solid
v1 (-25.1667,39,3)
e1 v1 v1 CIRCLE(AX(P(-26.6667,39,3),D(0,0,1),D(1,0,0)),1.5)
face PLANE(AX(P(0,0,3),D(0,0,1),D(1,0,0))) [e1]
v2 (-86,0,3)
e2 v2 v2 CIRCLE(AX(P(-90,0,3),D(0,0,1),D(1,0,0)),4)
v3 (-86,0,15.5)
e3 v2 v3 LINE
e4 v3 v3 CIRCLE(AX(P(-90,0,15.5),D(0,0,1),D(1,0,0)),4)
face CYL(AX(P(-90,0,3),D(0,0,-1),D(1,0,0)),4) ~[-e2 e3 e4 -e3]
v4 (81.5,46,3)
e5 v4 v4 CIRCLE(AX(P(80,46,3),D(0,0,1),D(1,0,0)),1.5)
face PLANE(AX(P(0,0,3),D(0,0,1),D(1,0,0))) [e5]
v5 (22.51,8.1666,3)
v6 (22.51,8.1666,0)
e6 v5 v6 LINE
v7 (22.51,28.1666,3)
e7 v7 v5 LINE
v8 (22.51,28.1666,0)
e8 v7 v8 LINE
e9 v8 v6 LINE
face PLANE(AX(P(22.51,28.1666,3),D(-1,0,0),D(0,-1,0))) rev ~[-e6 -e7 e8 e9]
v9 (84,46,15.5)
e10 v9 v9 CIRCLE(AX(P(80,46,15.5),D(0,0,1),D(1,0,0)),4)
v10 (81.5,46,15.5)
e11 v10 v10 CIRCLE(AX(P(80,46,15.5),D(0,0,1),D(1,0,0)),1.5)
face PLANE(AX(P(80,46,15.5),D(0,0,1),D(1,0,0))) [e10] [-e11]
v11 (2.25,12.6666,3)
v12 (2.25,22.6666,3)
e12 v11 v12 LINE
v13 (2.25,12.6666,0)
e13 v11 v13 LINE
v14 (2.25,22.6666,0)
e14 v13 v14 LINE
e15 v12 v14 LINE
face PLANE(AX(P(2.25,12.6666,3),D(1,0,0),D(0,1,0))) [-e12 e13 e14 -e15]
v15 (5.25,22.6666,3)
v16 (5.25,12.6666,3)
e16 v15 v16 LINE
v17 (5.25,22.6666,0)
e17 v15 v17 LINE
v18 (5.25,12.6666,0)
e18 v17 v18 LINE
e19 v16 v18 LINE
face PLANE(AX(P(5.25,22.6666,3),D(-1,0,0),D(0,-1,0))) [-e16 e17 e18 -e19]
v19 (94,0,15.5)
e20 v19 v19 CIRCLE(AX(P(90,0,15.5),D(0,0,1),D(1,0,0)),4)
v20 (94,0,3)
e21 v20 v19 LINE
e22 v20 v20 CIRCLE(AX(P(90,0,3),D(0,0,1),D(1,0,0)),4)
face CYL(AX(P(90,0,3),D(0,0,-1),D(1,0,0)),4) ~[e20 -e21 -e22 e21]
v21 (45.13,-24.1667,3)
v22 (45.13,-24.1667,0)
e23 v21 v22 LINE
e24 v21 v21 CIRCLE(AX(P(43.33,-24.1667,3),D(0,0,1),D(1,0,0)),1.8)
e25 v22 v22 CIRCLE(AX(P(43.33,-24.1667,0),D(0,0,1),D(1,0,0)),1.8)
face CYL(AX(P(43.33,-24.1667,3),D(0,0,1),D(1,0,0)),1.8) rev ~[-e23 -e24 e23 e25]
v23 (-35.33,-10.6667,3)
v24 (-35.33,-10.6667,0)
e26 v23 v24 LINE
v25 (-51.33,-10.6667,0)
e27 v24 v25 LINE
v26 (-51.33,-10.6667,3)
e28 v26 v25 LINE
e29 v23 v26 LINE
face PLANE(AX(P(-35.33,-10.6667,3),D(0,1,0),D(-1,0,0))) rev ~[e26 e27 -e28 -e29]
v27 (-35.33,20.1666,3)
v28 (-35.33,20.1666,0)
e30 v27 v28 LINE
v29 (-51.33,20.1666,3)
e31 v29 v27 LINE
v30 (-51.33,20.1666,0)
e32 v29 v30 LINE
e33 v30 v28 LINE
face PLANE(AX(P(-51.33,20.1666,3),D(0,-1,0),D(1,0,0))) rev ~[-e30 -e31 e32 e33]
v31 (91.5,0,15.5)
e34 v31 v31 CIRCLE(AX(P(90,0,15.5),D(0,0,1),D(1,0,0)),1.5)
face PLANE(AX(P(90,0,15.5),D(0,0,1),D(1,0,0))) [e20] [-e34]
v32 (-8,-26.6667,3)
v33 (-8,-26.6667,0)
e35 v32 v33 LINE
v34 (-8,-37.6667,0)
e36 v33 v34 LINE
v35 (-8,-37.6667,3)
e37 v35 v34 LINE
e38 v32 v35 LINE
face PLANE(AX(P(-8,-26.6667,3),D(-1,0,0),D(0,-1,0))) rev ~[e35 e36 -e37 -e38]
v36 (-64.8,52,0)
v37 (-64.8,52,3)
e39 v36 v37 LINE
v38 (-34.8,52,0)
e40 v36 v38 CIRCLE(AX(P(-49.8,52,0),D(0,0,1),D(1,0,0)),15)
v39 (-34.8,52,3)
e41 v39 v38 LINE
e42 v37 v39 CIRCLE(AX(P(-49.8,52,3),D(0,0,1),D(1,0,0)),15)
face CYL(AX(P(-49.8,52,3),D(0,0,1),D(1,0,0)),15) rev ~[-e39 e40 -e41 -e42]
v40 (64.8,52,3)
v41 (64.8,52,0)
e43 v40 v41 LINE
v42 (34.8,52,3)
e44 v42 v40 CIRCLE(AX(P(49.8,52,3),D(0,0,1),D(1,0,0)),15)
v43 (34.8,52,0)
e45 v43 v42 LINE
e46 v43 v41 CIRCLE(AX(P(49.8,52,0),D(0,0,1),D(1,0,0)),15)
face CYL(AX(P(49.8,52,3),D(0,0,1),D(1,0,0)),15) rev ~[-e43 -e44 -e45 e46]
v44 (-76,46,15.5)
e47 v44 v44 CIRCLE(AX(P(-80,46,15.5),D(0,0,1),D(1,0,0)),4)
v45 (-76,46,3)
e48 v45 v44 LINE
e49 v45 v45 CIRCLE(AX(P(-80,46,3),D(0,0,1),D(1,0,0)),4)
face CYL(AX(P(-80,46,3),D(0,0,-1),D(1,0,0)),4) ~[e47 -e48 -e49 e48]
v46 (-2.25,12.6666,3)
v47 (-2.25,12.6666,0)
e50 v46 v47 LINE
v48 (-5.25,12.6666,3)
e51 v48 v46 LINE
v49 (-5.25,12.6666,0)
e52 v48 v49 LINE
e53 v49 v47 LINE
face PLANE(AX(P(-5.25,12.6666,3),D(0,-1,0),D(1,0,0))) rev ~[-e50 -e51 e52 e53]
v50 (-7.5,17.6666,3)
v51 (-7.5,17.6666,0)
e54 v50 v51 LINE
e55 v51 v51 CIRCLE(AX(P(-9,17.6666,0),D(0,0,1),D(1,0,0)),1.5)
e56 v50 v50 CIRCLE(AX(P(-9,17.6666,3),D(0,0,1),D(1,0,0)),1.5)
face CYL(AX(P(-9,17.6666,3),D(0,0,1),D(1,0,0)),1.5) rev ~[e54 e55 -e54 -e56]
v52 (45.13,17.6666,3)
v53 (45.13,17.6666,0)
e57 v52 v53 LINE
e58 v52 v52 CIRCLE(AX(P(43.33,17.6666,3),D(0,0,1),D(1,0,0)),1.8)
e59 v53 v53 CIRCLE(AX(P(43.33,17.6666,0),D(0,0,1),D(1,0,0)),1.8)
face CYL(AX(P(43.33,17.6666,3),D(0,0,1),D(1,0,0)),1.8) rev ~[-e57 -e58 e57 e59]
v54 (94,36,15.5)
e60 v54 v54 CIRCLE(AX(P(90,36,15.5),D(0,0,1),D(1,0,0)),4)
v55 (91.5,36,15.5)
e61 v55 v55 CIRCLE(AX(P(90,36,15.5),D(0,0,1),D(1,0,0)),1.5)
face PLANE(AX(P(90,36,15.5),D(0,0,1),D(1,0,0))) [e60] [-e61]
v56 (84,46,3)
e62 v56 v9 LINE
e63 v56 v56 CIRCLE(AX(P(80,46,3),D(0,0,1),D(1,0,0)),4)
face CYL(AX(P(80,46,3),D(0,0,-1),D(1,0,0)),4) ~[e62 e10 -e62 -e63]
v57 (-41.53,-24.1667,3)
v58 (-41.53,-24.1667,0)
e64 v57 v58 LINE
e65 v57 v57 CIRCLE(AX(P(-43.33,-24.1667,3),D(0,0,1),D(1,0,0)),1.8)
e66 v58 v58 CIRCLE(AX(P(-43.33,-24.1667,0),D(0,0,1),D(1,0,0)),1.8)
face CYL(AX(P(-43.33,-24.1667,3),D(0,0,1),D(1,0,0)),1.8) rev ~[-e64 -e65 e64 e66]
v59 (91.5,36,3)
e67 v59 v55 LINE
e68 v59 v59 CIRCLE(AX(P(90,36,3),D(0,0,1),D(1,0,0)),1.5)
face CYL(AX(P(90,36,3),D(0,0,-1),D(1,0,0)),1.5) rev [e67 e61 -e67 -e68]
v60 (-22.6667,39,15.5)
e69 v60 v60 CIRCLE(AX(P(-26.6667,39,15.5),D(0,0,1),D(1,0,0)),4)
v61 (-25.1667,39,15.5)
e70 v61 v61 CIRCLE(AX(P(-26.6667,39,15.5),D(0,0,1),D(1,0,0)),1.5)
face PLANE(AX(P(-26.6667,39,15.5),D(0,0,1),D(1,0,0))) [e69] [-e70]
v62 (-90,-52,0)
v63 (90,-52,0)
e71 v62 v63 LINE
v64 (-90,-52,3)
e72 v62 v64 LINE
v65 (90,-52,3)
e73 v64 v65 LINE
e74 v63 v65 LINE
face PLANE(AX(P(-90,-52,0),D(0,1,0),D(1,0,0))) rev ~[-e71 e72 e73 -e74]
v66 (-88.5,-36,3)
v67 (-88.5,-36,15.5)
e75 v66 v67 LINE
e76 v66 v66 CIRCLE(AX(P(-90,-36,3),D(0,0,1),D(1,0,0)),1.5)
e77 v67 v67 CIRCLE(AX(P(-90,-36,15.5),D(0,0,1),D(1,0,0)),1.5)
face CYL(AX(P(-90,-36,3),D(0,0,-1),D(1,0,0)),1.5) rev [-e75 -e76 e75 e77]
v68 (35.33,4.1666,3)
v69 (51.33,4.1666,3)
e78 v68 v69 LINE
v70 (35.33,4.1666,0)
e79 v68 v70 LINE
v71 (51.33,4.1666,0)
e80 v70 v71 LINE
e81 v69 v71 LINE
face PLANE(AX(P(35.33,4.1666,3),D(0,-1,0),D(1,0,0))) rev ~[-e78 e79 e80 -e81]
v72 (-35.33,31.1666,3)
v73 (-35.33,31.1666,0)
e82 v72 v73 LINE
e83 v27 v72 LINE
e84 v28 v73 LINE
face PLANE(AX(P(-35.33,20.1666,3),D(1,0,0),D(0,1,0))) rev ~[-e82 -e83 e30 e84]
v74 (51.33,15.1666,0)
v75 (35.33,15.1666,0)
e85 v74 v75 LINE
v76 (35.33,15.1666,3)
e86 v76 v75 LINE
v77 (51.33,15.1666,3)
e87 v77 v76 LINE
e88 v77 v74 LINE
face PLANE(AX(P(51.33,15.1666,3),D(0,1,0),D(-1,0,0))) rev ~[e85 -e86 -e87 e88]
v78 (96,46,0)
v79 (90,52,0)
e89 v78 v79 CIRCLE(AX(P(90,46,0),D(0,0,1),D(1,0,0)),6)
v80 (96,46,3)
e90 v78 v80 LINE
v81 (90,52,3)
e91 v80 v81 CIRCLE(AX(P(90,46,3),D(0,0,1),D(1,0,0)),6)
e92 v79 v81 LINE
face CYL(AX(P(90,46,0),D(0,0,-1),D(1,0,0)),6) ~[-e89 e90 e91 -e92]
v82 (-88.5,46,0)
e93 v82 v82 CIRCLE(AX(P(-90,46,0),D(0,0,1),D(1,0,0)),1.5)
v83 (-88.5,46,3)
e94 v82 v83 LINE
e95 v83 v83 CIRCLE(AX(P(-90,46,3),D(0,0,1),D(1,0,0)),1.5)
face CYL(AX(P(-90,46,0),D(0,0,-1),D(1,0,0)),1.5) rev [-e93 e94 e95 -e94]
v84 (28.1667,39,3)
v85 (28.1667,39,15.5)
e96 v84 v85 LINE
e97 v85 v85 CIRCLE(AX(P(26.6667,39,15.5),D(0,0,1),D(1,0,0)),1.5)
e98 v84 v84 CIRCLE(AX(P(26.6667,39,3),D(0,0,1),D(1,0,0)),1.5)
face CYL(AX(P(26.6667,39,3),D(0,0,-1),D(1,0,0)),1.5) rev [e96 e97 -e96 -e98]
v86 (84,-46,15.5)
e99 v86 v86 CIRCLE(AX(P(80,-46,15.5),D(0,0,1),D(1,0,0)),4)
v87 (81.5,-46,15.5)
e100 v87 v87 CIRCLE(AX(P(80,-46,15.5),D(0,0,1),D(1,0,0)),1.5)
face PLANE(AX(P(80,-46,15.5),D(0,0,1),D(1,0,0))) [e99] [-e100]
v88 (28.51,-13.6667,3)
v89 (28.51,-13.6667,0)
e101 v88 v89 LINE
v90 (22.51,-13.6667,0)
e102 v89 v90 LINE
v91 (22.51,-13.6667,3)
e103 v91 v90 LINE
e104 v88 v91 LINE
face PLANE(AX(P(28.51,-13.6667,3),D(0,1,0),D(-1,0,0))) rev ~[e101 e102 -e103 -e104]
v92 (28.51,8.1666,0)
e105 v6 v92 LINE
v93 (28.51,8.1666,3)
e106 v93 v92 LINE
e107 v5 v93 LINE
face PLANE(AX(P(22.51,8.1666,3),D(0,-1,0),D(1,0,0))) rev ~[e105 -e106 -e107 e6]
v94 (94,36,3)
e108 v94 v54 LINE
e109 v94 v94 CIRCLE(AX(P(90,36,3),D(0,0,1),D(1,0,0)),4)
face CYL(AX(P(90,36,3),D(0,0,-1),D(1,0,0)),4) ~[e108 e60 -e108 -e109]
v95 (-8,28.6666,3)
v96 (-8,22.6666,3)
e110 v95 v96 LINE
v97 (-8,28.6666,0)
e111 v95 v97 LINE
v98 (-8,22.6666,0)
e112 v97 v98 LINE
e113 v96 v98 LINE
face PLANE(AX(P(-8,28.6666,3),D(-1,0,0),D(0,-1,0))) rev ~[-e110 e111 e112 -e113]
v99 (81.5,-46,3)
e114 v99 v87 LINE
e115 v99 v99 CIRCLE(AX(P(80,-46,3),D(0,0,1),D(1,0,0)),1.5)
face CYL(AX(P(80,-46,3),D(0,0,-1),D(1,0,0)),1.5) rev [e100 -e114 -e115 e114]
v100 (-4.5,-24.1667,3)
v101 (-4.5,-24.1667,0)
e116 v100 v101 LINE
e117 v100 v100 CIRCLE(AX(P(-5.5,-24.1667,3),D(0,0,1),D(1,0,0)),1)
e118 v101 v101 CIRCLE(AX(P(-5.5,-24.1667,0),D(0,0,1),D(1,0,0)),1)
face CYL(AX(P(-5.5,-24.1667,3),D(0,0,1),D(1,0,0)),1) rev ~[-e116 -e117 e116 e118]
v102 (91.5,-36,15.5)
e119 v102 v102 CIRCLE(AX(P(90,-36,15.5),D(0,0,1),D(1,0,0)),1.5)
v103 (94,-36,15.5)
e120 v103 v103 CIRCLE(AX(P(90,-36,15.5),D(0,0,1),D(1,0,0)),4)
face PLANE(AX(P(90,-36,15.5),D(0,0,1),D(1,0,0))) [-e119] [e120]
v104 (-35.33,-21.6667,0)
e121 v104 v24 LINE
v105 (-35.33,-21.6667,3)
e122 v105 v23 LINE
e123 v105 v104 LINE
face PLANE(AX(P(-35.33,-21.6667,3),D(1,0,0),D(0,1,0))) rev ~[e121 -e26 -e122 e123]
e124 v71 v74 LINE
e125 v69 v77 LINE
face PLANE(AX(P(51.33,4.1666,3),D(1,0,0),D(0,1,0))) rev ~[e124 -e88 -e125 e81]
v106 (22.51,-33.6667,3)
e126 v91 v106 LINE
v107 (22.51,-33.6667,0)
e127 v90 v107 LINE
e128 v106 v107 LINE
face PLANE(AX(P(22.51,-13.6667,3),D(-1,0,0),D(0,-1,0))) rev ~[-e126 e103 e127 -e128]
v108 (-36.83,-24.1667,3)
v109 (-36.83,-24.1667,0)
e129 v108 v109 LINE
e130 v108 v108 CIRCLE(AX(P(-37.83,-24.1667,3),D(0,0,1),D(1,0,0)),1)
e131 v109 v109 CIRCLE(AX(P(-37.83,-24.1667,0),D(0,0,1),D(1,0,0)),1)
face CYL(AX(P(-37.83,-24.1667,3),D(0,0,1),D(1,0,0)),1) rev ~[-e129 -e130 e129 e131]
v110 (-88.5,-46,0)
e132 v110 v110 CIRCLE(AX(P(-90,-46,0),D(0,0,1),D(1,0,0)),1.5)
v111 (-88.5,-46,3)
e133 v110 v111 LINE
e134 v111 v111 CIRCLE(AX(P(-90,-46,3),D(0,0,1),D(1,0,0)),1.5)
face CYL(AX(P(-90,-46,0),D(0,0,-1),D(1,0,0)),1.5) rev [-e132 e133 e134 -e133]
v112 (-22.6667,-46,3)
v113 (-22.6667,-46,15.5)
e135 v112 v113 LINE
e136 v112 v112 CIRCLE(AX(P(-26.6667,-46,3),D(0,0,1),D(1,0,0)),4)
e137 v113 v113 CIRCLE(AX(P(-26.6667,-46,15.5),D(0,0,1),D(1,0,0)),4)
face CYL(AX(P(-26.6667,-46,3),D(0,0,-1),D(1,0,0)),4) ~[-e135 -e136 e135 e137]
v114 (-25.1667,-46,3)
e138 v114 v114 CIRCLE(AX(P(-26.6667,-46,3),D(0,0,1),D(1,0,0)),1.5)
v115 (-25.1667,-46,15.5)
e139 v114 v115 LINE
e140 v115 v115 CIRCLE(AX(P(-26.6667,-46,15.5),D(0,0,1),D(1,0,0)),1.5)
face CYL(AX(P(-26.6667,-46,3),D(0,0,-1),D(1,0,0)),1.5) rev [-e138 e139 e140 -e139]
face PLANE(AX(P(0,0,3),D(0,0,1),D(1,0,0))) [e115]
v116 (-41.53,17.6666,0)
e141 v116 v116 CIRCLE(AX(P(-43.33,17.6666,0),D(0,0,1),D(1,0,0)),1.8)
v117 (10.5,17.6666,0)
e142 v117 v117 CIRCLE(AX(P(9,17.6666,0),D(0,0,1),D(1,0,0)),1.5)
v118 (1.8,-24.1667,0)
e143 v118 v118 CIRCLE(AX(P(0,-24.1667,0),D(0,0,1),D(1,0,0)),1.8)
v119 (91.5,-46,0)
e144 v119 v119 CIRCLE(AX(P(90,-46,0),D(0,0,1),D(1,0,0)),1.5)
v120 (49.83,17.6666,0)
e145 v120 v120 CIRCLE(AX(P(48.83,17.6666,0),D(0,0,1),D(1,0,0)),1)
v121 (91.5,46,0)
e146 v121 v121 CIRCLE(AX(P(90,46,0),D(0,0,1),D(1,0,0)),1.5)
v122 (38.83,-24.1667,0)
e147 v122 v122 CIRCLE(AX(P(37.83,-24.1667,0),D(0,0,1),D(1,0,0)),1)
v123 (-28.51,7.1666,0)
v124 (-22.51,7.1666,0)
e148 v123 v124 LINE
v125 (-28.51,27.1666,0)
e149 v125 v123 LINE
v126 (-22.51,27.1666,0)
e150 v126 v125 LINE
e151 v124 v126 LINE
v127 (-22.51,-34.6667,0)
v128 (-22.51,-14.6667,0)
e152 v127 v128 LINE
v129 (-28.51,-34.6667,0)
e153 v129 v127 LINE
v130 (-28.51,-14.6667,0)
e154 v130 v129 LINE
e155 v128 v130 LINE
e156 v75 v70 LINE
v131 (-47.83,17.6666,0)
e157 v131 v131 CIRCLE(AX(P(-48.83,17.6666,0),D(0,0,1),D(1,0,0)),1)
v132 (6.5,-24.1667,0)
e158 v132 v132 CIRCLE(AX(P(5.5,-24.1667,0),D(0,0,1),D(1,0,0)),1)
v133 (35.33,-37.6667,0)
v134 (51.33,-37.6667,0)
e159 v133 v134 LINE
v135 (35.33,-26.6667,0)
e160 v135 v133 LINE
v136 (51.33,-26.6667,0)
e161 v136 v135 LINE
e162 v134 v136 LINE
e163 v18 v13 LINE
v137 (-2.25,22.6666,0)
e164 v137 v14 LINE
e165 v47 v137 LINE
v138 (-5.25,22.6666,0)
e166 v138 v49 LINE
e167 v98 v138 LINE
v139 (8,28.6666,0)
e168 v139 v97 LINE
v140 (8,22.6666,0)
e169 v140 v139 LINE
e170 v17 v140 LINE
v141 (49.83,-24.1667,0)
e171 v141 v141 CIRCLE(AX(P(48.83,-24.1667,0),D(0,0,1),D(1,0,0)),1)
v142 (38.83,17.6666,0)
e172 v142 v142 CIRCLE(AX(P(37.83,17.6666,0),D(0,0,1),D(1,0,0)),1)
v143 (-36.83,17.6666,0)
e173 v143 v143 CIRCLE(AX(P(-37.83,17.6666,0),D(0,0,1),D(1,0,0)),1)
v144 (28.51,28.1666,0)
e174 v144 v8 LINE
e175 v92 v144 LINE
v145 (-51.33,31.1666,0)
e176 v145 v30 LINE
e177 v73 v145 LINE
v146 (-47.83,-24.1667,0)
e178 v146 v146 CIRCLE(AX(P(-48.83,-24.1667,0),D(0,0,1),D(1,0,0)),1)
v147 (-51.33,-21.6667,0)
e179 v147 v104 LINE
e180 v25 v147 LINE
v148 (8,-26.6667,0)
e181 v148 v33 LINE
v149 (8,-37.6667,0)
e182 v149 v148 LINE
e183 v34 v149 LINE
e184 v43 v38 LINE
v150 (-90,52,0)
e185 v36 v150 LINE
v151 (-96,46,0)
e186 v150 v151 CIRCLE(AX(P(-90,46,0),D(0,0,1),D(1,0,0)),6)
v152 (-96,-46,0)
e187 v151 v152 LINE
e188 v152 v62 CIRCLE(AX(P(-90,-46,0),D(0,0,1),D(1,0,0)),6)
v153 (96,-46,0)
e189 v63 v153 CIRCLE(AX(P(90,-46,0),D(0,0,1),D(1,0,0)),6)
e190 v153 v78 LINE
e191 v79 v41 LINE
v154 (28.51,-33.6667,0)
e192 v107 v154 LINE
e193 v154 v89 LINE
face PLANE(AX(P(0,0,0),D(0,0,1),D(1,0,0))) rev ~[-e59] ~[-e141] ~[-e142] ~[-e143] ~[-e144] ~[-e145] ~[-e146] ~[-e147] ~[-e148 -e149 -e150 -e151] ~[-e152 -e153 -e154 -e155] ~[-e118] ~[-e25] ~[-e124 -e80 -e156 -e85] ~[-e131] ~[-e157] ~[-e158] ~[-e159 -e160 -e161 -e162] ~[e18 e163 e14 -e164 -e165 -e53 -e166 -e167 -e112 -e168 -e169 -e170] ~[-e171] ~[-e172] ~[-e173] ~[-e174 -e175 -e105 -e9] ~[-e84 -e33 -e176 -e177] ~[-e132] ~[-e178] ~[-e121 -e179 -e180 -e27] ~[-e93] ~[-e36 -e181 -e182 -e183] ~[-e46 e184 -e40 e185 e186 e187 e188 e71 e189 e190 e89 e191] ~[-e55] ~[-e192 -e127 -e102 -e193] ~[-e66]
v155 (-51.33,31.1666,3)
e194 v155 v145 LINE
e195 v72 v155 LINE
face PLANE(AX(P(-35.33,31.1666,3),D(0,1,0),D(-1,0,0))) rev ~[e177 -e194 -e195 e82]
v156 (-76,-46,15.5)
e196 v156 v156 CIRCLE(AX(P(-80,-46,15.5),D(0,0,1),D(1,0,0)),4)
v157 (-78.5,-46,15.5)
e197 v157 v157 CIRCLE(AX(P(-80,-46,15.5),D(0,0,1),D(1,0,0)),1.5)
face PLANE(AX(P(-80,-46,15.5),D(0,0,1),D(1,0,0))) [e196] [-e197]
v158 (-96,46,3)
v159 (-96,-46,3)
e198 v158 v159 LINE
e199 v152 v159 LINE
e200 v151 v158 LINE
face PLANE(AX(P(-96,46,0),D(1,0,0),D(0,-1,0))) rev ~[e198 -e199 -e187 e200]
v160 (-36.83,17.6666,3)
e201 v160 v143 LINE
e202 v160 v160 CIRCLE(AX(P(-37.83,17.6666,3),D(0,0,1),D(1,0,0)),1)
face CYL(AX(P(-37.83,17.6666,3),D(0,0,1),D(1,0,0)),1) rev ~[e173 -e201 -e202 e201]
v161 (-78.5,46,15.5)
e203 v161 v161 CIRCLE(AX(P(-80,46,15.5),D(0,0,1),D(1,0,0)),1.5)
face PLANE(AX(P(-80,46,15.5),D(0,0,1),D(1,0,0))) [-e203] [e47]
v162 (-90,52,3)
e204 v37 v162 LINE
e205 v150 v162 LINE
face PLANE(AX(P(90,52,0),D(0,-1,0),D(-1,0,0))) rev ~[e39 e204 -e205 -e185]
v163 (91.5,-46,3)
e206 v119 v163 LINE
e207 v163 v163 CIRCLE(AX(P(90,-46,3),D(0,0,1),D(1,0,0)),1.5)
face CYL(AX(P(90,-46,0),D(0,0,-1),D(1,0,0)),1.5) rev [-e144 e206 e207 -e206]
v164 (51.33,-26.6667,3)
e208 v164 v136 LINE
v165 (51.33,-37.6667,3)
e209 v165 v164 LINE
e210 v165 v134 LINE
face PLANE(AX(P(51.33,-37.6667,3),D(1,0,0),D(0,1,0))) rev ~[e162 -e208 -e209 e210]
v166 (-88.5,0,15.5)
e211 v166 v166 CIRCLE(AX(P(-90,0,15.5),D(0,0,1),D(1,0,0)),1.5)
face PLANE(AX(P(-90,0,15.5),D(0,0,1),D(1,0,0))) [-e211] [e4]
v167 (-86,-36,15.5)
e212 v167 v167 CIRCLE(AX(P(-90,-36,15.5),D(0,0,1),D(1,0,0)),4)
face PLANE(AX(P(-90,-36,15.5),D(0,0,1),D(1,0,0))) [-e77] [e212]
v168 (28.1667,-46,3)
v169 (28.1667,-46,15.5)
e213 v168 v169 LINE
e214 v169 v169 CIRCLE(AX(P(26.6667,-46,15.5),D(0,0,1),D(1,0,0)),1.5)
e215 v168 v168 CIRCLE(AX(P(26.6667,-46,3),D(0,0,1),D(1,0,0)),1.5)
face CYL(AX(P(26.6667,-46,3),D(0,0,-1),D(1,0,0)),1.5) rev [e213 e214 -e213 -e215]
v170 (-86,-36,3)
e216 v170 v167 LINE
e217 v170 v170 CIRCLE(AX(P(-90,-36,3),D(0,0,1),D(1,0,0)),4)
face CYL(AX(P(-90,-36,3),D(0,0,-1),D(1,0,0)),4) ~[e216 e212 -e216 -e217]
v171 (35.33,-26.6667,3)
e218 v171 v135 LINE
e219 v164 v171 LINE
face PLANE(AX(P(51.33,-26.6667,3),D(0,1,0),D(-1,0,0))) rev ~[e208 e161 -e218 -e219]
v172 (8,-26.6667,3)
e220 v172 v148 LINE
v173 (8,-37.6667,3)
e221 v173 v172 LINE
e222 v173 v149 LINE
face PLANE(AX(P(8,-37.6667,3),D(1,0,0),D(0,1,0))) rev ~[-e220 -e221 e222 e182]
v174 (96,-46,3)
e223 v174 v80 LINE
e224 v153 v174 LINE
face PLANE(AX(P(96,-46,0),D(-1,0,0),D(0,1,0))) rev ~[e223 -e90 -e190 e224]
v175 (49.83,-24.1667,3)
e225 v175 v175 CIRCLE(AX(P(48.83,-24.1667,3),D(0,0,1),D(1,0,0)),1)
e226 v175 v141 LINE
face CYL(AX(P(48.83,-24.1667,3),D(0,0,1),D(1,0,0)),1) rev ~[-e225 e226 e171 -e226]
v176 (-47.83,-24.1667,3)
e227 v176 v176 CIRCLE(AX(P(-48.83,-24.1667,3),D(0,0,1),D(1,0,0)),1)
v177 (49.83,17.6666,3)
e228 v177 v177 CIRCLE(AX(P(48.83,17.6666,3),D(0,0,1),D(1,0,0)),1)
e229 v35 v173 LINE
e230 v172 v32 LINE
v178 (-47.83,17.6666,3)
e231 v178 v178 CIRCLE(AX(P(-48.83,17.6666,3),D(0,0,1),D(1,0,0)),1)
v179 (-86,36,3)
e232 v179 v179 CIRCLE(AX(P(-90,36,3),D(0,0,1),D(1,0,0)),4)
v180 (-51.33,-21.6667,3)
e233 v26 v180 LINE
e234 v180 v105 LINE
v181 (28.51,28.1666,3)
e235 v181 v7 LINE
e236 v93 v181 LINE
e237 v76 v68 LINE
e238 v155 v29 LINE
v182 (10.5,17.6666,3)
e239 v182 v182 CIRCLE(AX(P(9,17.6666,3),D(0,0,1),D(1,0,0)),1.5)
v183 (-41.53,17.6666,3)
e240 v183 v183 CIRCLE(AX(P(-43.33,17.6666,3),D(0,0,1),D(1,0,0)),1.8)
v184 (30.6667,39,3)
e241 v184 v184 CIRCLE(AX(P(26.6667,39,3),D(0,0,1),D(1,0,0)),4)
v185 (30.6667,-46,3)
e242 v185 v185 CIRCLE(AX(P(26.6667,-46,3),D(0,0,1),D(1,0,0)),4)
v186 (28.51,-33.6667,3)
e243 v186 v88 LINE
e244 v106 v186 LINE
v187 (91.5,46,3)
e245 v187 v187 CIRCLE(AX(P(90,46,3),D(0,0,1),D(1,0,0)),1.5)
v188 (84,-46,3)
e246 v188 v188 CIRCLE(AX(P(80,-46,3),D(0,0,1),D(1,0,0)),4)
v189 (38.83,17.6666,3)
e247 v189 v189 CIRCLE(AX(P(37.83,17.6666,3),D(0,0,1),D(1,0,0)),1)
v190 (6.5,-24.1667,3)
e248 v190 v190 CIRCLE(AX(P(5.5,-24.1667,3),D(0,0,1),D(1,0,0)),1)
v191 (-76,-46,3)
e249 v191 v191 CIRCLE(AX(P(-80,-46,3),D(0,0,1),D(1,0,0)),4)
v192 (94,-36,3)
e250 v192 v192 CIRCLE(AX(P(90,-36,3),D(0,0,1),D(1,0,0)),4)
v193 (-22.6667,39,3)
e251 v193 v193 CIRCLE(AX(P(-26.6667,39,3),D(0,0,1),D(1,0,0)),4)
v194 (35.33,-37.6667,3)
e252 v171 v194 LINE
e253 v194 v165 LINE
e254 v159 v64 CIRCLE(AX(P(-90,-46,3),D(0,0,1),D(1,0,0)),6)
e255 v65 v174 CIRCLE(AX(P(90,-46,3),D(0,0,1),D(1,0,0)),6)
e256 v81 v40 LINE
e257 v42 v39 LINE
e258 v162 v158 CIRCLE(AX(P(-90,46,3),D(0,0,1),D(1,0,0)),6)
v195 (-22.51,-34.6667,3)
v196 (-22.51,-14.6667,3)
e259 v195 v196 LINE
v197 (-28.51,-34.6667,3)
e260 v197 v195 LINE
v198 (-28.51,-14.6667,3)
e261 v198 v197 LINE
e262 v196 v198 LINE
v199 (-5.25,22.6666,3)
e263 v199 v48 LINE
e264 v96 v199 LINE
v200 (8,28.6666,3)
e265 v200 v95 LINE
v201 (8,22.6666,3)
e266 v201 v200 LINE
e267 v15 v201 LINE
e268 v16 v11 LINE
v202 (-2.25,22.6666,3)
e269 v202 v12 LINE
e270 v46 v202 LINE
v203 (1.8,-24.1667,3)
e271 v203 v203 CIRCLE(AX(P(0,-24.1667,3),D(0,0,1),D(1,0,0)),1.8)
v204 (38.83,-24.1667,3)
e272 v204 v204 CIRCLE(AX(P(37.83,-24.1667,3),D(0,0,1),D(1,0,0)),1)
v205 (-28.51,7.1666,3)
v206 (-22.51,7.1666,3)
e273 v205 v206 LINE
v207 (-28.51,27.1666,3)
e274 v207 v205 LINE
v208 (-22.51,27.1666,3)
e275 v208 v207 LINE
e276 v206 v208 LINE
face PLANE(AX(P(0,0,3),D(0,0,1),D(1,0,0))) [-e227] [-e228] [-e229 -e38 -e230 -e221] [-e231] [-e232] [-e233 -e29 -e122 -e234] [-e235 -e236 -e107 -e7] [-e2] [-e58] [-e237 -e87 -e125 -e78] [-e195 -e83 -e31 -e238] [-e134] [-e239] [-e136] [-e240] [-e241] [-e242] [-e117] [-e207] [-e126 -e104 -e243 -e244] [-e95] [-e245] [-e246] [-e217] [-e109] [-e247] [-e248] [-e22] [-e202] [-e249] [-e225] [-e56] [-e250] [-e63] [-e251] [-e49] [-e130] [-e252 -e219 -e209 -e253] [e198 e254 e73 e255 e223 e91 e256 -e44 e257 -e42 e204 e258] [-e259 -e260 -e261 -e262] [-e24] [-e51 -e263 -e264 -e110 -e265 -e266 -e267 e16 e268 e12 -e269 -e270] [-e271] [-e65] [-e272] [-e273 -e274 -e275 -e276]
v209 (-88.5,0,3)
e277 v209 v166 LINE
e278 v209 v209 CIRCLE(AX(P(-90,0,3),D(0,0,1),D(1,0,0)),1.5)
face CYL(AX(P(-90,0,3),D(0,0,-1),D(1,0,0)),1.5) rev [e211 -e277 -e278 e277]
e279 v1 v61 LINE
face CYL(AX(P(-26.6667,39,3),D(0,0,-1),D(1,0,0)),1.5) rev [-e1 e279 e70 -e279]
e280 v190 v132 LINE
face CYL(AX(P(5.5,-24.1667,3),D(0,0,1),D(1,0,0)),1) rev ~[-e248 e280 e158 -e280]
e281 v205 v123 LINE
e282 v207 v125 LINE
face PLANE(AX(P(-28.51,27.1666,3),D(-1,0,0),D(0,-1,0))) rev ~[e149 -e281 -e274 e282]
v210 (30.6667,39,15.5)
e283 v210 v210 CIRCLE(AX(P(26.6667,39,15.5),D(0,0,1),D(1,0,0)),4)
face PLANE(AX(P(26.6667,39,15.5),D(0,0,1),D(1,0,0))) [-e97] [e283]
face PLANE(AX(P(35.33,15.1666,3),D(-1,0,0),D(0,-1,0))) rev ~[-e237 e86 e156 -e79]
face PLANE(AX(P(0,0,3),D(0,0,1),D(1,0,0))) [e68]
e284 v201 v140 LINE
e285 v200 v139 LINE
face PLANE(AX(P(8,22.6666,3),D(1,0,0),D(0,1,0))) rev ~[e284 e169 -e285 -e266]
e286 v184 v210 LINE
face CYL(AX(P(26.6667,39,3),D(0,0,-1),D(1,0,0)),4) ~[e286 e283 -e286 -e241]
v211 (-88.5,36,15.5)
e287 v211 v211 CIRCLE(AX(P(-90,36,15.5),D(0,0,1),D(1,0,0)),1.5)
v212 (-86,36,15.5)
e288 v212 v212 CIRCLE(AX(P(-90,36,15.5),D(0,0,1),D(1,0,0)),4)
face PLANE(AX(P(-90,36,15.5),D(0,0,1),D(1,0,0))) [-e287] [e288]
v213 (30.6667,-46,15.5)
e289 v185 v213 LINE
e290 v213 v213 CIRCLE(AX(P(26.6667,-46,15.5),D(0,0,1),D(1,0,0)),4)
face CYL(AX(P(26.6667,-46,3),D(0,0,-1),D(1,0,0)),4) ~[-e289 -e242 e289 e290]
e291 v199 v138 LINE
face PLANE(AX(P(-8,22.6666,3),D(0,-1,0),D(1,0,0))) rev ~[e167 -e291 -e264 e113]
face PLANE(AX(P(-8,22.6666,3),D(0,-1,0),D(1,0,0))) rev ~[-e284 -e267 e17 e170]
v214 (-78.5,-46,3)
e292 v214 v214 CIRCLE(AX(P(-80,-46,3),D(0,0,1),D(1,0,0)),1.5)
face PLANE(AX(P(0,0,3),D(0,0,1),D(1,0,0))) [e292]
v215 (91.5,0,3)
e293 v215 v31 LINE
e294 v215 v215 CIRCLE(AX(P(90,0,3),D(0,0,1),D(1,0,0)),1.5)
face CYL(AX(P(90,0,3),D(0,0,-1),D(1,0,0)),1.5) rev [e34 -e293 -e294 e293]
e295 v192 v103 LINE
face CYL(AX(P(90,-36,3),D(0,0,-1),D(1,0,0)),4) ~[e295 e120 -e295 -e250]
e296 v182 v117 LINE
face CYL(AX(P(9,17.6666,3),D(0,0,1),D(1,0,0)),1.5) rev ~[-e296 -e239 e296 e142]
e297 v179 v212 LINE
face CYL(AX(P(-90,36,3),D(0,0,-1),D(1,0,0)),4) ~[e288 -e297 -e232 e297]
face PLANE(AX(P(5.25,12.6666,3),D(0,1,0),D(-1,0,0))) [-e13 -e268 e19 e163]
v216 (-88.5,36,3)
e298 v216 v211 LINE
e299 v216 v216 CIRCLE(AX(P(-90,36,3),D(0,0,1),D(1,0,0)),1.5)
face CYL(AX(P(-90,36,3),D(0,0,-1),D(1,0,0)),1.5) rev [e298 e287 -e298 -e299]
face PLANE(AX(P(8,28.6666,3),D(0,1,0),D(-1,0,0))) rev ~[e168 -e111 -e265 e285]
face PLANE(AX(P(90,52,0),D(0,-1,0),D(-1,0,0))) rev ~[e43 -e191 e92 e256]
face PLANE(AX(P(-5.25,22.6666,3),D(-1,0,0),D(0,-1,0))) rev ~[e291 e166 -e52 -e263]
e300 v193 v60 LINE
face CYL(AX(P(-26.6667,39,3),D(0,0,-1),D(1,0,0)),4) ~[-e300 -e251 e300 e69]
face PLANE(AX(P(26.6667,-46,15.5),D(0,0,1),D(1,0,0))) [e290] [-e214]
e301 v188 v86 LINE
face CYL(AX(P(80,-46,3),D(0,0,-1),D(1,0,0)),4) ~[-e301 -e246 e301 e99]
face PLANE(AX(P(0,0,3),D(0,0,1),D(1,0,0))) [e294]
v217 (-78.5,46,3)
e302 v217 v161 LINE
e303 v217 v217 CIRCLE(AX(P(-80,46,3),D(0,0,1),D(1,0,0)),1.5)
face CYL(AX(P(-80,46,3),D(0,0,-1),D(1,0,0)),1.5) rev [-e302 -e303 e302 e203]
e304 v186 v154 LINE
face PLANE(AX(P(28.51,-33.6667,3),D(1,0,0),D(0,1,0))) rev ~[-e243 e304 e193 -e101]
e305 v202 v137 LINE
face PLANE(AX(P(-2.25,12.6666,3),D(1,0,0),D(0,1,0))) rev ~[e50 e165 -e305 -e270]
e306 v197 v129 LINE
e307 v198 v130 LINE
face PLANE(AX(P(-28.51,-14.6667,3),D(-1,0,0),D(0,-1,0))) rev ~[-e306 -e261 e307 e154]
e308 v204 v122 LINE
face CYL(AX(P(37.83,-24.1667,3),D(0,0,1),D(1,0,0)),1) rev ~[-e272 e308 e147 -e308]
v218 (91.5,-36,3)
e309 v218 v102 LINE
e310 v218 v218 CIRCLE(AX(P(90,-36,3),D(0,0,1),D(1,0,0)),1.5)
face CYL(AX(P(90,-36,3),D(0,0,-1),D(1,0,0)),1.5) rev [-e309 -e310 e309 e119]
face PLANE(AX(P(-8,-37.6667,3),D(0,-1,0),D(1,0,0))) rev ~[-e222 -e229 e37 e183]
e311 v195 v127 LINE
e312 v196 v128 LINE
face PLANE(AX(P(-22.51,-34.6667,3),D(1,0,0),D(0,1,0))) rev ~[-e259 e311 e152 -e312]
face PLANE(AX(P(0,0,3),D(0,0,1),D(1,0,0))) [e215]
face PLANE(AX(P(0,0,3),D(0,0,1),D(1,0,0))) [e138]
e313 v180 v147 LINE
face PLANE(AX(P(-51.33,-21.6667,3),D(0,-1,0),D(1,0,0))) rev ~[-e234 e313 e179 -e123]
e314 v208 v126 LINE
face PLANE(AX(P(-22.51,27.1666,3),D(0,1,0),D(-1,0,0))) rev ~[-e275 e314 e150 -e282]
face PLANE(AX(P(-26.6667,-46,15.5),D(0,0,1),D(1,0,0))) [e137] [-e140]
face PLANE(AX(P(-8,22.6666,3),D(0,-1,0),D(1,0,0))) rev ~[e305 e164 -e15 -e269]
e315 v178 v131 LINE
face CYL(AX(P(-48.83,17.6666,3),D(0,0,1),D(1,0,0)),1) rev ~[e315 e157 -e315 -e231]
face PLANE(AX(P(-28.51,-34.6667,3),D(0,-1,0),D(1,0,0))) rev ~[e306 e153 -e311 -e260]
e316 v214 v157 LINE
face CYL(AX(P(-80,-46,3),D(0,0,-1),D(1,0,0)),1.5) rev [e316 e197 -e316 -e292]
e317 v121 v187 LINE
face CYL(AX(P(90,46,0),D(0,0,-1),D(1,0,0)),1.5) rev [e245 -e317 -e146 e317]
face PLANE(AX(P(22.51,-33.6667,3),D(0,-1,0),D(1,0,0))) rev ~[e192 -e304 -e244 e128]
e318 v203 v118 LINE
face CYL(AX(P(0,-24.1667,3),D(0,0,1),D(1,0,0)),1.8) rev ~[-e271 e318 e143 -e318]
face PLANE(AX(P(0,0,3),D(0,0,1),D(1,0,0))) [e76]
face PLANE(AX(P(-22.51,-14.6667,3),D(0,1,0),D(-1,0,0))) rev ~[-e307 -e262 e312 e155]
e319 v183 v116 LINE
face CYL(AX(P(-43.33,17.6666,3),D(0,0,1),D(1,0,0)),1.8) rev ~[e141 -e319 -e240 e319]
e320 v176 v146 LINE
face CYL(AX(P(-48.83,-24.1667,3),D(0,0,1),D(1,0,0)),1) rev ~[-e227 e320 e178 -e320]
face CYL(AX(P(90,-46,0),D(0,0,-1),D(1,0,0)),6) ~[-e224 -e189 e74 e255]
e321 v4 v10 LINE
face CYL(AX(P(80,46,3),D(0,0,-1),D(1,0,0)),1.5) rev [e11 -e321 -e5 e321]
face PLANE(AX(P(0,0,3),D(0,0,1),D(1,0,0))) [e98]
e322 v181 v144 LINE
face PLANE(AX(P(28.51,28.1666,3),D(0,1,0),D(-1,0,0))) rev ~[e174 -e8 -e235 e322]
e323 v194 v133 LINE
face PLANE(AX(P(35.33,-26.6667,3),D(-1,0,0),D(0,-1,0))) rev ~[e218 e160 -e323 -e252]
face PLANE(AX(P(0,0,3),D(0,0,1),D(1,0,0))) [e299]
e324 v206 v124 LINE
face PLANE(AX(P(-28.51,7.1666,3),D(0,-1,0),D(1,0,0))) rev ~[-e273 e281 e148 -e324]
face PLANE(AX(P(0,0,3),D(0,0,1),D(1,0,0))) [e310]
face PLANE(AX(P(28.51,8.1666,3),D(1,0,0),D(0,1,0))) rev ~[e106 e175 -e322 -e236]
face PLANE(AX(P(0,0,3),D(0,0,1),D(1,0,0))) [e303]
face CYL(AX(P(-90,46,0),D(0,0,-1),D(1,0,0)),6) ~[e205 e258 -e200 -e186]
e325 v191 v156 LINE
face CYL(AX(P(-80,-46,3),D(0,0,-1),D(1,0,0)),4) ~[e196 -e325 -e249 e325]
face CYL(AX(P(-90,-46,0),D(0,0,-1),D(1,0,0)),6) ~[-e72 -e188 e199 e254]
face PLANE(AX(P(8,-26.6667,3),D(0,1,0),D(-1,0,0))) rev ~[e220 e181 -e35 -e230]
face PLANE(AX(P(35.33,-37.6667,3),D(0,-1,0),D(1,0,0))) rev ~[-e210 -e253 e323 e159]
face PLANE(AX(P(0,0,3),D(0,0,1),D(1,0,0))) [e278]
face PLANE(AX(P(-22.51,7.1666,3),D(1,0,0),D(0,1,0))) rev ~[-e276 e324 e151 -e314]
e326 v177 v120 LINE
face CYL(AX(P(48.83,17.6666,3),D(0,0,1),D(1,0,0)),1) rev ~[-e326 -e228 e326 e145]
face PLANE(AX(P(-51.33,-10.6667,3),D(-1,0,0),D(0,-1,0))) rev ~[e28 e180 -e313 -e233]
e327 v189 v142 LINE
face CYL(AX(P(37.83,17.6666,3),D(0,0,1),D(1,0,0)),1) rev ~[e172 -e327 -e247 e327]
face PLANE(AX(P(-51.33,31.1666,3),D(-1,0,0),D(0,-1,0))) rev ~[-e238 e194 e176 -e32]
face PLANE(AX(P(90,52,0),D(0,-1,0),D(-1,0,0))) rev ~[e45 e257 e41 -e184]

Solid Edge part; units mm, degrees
sketch "Sketch1" plane through (0, 0, 0) normal (0, 0, 1) x (1, 0, 0)
  circle A0 centre (90, -46) radius 1.5
  line L0 (96, -46) -> (96, 46)
  arc A1 (96, 46) -> (90, 52) centre (90, 46) ccw
  line L1 (90, 52) -> (-90, 52)
  arc A2 (-90, 52) -> (-96, 46) centre (-90, 46) ccw
  line L2 (-96, 46) -> (-96, -46)
  arc A3 (-96, -46) -> (-90, -52) centre (-90, -46) ccw
  line L3 (-90, -52) -> (90, -52)
  arc A4 (90, -52) -> (96, -46) centre (90, -46) ccw
  circle A5 centre (-90, 46) radius 1.5
  circle A6 centre (90, 46) radius 1.5
  circle A7 centre (-90, -46) radius 1.5
  dimension "D1" = 180
  dimension "D2" = 92
  dimension "D3" = 8
  dimension "D4" = 2
  dimension "D5" = 3
extrude "Protrusion1" add sketch "Sketch1" along normal blind 3
sketch "Sketch2" plane through (0, 0, 3) normal (0, 0, 1) x (1, 0, 0)
  circle A0 centre (-48.83, -24.1667) radius 1
  circle A1 centre (-43.33, -24.1667) radius 1.8
  circle A2 centre (-37.83, -24.1667) radius 1
  circle A3 centre (-37.83, 17.6666) radius 1
  circle A4 centre (-43.33, 17.6666) radius 1.8
  circle A5 centre (-48.83, 17.6666) radius 1
  circle A6 centre (48.83, 17.6666) radius 1
  circle A7 centre (43.33, 17.6666) radius 1.8
  circle A8 centre (37.83, 17.6666) radius 1
  circle A9 centre (37.83, -24.1667) radius 1
  circle A10 centre (43.33, -24.1667) radius 1.8
  circle A11 centre (48.83, -24.1667) radius 1
  dimension "D1" = 3.2
  dimension "D2" = 1.6
  dimension "D3" = 5.5
  dimension "D4" = 0.2
  dimension "D5" = 0.2
  dimension "D6" = 0.2
  dimension "D7" = 3.2
  dimension "D8" = 1.6
  dimension "D9" = 5.5
  dimension "D10" = 0.2
  dimension "D11" = 0.2
  dimension "D12" = 0.2
  dimension "D13" = 3.2
  dimension "D14" = 1.6
  dimension "D15" = 5.5
  dimension "D16" = 0.2
  dimension "D17" = 0.2
  dimension "D18" = 0.2
  dimension "D19" = 3.2
  dimension "D20" = 1.6
  dimension "D21" = 5.5
  dimension "D22" = 0.2
  dimension "D23" = 0.2
  dimension "D24" = 0.2
  dimension "D25" = 86.66
  dimension "D26" = 97.5
  dimension "D27" = 27.8333
  dimension "D28" = 41.8333
extrude "Cutout1" cut sketch "Sketch2" against normal up to vertex (3 mm away)
sketch "Sketch3" plane through (0, 0, 3) normal (0, 0, 1) x (1, 0, 0)
  line L0 (-35.33, 20.1666) -> (-35.33, 31.1666)
  line L1 (-35.33, 31.1666) -> (-51.33, 31.1666)
  line L2 (-51.33, 31.1666) -> (-51.33, 20.1666)
  line L3 (-51.33, 20.1666) -> (-35.33, 20.1666)
  line L4 (51.33, 4.1666) -> (51.33, 15.1666)
  line L5 (51.33, 15.1666) -> (35.33, 15.1666)
  line L6 (35.33, 15.1666) -> (35.33, 4.1666)
  line L7 (35.33, 4.1666) -> (51.33, 4.1666)
  line L8 (51.33, -26.6667) -> (35.33, -26.6667)
  line L9 (35.33, -26.6667) -> (35.33, -37.6667)
  line L10 (35.33, -37.6667) -> (51.33, -37.6667)
  line L11 (51.33, -37.6667) -> (51.33, -26.6667)
  line L12 (-35.33, -10.6667) -> (-51.33, -10.6667)
  line L13 (-51.33, -10.6667) -> (-51.33, -21.6667)
  line L14 (-51.33, -21.6667) -> (-35.33, -21.6667)
  line L15 (-35.33, -21.6667) -> (-35.33, -10.6667)
  dimension "D1" = 16
  dimension "D2" = 11
  dimension "D3" = 2.5
  dimension "D4" = 2.5
  dimension "D5" = 2.5
  dimension "D6" = 2.5
extrude "Cutout2" cut sketch "Sketch3" against normal up to vertex (3 mm away)
sketch "Sketch4" plane through (0, 0, 3) normal (0, 0, 1) x (1, 0, 0)
  line L0 (-22.51, 7.1666) -> (-22.51, 27.1666)
  line L1 (-22.51, 27.1666) -> (-28.51, 27.1666)
  line L2 (-28.51, 27.1666) -> (-28.51, 7.1666)
  line L3 (-28.51, 7.1666) -> (-22.51, 7.1666)
  line L4 (-22.51, -14.6667) -> (-28.51, -14.6667)
  line L5 (-28.51, -14.6667) -> (-28.51, -34.6667)
  line L6 (-28.51, -34.6667) -> (-22.51, -34.6667)
  line L7 (-22.51, -34.6667) -> (-22.51, -14.6667)
  line L8 (28.51, 8.1666) -> (28.51, 28.1666)
  line L9 (28.51, 28.1666) -> (22.51, 28.1666)
  line L10 (22.51, 28.1666) -> (22.51, 8.1666)
  line L11 (22.51, 8.1666) -> (28.51, 8.1666)
  line L12 (28.51, -13.6667) -> (22.51, -13.6667)
  line L13 (22.51, -13.6667) -> (22.51, -33.6667)
  line L14 (22.51, -33.6667) -> (28.51, -33.6667)
  line L15 (28.51, -33.6667) -> (28.51, -13.6667)
  dimension "D1" = 6
  dimension "D2" = 20
  dimension "D3" = 9.5
  dimension "D4" = 9.5
  dimension "D5" = 9.5
  dimension "D6" = 9.5
  dimension "D7" = 14.82
  dimension "D8" = 14.82
  dimension "D9" = 14.82
  dimension "D10" = 14.82
extrude "Cutout3" cut sketch "Sketch4" against normal up to vertex (3 mm away)
sketch "Sketch5" plane through (0, 0, 3) normal (0, 0, 1) x (1, 0, 0)
  circle A0 centre (-90, 36) radius 4
  circle A1 centre (-90, 36) radius 1.5
  circle A2 centre (-80, 46) radius 4
  circle A3 centre (-80, 46) radius 1.5
  circle A4 centre (80, 46) radius 4
  circle A5 centre (80, 46) radius 1.5
  circle A6 centre (90, 36) radius 4
  circle A7 centre (90, 36) radius 1.5
  circle A8 centre (90, 0) radius 4
  circle A9 centre (90, 0) radius 1.5
  circle A10 centre (90, -36) radius 4
  circle A11 centre (90, -36) radius 1.5
  circle A12 centre (80, -46) radius 4
  circle A13 centre (80, -46) radius 1.5
  circle A14 centre (26.6667, -46) radius 4
  circle A15 centre (26.6667, -46) radius 1.5
  circle A16 centre (-26.6667, -46) radius 4
  circle A17 centre (-26.6667, -46) radius 1.5
  circle A18 centre (-80, -46) radius 4
  circle A19 centre (-80, -46) radius 1.5
  circle A20 centre (-90, -36) radius 4
  circle A21 centre (-90, -36) radius 1.5
  circle A22 centre (-90, 0) radius 4
  circle A23 centre (-90, 0) radius 1.5
  dimension "D1" = 3
  dimension "D2" = 10
  dimension "D3" = 10
  dimension "D4" = 3
  dimension "D5" = 3
  dimension "D6" = 8
extrude "ExtrudedProtrusion_2" add sketch "Sketch5" along normal blind 12.5
sketch "Sketch6" plane through (0, 0, 3) normal (0, 0, 1) x (1, 0, 0)
  circle A0 centre (-26.6667, 39) radius 1.5
  circle A1 centre (-26.6667, 39) radius 4
  circle A2 centre (26.6667, 39) radius 1.5
  circle A3 centre (26.6667, 39) radius 4
  dimension "D1" = 13
extrude "Protrusion2" add sketch "Sketch6" along normal up to vertex (12.5 mm away)
sketch "Sketch7" plane through (0, 0, 3) normal (0, 0, 1) x (1, 0, 0)
  circle A0 centre (-49.8, 52) radius 15
  circle A1 centre (49.8, 52) radius 15
  dimension "D1" = 30
  dimension "D2" = 99.6
extrude "Cutout4" cut sketch "Sketch7" against normal up to vertex (3 mm away)
sketch "Sketch8" plane through (0, 0, 3) normal (0, 0, 1) x (1, 0, 0)
  line L0 (8, -37.6667) -> (8, -26.6667)
  line L1 (8, -26.6667) -> (-8, -26.6667)
  line L2 (-8, -26.6667) -> (-8, -37.6667)
  line L3 (-8, -37.6667) -> (8, -37.6667)
  circle A0 centre (-5.5, -24.1667) radius 1
  circle A1 centre (0, -24.1667) radius 1.8
  circle A2 centre (5.5, -24.1667) radius 1
  dimension "D1" = 5.5
extrude "Cutout5" cut sketch "Sketch8" against normal up to vertex (3 mm away)
sketch "Sketch9" plane through (0, 0, 3) normal (0, 0, 1) x (1, 0, 0)
  line L0 (-2.25, 12.6666) -> (-2.25, 22.6666)
  line L1 (-2.25, 22.6666) -> (-5.25, 22.6666)
  line L2 (-5.25, 22.6666) -> (-5.25, 12.6666)
  line L3 (-5.25, 12.6666) -> (-2.25, 12.6666)
  line L4 (2.25, 12.6666) -> (2.25, 22.6666)
  line L5 (2.25, 22.6666) -> (5.25, 22.6666)
  line L6 (5.25, 22.6666) -> (5.25, 12.6666)
  line L7 (5.25, 12.6666) -> (2.25, 12.6666)
  line L8 (8, 28.6666) -> (-8, 28.6666)
  line L9 (-8, 28.6666) -> (-8, 22.6666)
  line L10 (-8, 22.6666) -> (8, 22.6666)
  line L11 (8, 22.6666) -> (8, 28.6666)
  circle A0 centre (9, 17.6666) radius 1.5
  circle A1 centre (-9, 17.6666) radius 1.5
  dimension "D1" = 28
  dimension "D2" = 29.5
  dimension "D3" = 3
  dimension "D4" = 4.5
  dimension "D5" = 10
  dimension "D6" = 16
  dimension "D7" = 6
  dimension "D8" = 14
  dimension "D9" = 18
  dimension "D10" = 3
extrude "Cutout6" cut sketch "Sketch9" against normal up to vertex (3 mm away)
properties material "Polycarbonate"
